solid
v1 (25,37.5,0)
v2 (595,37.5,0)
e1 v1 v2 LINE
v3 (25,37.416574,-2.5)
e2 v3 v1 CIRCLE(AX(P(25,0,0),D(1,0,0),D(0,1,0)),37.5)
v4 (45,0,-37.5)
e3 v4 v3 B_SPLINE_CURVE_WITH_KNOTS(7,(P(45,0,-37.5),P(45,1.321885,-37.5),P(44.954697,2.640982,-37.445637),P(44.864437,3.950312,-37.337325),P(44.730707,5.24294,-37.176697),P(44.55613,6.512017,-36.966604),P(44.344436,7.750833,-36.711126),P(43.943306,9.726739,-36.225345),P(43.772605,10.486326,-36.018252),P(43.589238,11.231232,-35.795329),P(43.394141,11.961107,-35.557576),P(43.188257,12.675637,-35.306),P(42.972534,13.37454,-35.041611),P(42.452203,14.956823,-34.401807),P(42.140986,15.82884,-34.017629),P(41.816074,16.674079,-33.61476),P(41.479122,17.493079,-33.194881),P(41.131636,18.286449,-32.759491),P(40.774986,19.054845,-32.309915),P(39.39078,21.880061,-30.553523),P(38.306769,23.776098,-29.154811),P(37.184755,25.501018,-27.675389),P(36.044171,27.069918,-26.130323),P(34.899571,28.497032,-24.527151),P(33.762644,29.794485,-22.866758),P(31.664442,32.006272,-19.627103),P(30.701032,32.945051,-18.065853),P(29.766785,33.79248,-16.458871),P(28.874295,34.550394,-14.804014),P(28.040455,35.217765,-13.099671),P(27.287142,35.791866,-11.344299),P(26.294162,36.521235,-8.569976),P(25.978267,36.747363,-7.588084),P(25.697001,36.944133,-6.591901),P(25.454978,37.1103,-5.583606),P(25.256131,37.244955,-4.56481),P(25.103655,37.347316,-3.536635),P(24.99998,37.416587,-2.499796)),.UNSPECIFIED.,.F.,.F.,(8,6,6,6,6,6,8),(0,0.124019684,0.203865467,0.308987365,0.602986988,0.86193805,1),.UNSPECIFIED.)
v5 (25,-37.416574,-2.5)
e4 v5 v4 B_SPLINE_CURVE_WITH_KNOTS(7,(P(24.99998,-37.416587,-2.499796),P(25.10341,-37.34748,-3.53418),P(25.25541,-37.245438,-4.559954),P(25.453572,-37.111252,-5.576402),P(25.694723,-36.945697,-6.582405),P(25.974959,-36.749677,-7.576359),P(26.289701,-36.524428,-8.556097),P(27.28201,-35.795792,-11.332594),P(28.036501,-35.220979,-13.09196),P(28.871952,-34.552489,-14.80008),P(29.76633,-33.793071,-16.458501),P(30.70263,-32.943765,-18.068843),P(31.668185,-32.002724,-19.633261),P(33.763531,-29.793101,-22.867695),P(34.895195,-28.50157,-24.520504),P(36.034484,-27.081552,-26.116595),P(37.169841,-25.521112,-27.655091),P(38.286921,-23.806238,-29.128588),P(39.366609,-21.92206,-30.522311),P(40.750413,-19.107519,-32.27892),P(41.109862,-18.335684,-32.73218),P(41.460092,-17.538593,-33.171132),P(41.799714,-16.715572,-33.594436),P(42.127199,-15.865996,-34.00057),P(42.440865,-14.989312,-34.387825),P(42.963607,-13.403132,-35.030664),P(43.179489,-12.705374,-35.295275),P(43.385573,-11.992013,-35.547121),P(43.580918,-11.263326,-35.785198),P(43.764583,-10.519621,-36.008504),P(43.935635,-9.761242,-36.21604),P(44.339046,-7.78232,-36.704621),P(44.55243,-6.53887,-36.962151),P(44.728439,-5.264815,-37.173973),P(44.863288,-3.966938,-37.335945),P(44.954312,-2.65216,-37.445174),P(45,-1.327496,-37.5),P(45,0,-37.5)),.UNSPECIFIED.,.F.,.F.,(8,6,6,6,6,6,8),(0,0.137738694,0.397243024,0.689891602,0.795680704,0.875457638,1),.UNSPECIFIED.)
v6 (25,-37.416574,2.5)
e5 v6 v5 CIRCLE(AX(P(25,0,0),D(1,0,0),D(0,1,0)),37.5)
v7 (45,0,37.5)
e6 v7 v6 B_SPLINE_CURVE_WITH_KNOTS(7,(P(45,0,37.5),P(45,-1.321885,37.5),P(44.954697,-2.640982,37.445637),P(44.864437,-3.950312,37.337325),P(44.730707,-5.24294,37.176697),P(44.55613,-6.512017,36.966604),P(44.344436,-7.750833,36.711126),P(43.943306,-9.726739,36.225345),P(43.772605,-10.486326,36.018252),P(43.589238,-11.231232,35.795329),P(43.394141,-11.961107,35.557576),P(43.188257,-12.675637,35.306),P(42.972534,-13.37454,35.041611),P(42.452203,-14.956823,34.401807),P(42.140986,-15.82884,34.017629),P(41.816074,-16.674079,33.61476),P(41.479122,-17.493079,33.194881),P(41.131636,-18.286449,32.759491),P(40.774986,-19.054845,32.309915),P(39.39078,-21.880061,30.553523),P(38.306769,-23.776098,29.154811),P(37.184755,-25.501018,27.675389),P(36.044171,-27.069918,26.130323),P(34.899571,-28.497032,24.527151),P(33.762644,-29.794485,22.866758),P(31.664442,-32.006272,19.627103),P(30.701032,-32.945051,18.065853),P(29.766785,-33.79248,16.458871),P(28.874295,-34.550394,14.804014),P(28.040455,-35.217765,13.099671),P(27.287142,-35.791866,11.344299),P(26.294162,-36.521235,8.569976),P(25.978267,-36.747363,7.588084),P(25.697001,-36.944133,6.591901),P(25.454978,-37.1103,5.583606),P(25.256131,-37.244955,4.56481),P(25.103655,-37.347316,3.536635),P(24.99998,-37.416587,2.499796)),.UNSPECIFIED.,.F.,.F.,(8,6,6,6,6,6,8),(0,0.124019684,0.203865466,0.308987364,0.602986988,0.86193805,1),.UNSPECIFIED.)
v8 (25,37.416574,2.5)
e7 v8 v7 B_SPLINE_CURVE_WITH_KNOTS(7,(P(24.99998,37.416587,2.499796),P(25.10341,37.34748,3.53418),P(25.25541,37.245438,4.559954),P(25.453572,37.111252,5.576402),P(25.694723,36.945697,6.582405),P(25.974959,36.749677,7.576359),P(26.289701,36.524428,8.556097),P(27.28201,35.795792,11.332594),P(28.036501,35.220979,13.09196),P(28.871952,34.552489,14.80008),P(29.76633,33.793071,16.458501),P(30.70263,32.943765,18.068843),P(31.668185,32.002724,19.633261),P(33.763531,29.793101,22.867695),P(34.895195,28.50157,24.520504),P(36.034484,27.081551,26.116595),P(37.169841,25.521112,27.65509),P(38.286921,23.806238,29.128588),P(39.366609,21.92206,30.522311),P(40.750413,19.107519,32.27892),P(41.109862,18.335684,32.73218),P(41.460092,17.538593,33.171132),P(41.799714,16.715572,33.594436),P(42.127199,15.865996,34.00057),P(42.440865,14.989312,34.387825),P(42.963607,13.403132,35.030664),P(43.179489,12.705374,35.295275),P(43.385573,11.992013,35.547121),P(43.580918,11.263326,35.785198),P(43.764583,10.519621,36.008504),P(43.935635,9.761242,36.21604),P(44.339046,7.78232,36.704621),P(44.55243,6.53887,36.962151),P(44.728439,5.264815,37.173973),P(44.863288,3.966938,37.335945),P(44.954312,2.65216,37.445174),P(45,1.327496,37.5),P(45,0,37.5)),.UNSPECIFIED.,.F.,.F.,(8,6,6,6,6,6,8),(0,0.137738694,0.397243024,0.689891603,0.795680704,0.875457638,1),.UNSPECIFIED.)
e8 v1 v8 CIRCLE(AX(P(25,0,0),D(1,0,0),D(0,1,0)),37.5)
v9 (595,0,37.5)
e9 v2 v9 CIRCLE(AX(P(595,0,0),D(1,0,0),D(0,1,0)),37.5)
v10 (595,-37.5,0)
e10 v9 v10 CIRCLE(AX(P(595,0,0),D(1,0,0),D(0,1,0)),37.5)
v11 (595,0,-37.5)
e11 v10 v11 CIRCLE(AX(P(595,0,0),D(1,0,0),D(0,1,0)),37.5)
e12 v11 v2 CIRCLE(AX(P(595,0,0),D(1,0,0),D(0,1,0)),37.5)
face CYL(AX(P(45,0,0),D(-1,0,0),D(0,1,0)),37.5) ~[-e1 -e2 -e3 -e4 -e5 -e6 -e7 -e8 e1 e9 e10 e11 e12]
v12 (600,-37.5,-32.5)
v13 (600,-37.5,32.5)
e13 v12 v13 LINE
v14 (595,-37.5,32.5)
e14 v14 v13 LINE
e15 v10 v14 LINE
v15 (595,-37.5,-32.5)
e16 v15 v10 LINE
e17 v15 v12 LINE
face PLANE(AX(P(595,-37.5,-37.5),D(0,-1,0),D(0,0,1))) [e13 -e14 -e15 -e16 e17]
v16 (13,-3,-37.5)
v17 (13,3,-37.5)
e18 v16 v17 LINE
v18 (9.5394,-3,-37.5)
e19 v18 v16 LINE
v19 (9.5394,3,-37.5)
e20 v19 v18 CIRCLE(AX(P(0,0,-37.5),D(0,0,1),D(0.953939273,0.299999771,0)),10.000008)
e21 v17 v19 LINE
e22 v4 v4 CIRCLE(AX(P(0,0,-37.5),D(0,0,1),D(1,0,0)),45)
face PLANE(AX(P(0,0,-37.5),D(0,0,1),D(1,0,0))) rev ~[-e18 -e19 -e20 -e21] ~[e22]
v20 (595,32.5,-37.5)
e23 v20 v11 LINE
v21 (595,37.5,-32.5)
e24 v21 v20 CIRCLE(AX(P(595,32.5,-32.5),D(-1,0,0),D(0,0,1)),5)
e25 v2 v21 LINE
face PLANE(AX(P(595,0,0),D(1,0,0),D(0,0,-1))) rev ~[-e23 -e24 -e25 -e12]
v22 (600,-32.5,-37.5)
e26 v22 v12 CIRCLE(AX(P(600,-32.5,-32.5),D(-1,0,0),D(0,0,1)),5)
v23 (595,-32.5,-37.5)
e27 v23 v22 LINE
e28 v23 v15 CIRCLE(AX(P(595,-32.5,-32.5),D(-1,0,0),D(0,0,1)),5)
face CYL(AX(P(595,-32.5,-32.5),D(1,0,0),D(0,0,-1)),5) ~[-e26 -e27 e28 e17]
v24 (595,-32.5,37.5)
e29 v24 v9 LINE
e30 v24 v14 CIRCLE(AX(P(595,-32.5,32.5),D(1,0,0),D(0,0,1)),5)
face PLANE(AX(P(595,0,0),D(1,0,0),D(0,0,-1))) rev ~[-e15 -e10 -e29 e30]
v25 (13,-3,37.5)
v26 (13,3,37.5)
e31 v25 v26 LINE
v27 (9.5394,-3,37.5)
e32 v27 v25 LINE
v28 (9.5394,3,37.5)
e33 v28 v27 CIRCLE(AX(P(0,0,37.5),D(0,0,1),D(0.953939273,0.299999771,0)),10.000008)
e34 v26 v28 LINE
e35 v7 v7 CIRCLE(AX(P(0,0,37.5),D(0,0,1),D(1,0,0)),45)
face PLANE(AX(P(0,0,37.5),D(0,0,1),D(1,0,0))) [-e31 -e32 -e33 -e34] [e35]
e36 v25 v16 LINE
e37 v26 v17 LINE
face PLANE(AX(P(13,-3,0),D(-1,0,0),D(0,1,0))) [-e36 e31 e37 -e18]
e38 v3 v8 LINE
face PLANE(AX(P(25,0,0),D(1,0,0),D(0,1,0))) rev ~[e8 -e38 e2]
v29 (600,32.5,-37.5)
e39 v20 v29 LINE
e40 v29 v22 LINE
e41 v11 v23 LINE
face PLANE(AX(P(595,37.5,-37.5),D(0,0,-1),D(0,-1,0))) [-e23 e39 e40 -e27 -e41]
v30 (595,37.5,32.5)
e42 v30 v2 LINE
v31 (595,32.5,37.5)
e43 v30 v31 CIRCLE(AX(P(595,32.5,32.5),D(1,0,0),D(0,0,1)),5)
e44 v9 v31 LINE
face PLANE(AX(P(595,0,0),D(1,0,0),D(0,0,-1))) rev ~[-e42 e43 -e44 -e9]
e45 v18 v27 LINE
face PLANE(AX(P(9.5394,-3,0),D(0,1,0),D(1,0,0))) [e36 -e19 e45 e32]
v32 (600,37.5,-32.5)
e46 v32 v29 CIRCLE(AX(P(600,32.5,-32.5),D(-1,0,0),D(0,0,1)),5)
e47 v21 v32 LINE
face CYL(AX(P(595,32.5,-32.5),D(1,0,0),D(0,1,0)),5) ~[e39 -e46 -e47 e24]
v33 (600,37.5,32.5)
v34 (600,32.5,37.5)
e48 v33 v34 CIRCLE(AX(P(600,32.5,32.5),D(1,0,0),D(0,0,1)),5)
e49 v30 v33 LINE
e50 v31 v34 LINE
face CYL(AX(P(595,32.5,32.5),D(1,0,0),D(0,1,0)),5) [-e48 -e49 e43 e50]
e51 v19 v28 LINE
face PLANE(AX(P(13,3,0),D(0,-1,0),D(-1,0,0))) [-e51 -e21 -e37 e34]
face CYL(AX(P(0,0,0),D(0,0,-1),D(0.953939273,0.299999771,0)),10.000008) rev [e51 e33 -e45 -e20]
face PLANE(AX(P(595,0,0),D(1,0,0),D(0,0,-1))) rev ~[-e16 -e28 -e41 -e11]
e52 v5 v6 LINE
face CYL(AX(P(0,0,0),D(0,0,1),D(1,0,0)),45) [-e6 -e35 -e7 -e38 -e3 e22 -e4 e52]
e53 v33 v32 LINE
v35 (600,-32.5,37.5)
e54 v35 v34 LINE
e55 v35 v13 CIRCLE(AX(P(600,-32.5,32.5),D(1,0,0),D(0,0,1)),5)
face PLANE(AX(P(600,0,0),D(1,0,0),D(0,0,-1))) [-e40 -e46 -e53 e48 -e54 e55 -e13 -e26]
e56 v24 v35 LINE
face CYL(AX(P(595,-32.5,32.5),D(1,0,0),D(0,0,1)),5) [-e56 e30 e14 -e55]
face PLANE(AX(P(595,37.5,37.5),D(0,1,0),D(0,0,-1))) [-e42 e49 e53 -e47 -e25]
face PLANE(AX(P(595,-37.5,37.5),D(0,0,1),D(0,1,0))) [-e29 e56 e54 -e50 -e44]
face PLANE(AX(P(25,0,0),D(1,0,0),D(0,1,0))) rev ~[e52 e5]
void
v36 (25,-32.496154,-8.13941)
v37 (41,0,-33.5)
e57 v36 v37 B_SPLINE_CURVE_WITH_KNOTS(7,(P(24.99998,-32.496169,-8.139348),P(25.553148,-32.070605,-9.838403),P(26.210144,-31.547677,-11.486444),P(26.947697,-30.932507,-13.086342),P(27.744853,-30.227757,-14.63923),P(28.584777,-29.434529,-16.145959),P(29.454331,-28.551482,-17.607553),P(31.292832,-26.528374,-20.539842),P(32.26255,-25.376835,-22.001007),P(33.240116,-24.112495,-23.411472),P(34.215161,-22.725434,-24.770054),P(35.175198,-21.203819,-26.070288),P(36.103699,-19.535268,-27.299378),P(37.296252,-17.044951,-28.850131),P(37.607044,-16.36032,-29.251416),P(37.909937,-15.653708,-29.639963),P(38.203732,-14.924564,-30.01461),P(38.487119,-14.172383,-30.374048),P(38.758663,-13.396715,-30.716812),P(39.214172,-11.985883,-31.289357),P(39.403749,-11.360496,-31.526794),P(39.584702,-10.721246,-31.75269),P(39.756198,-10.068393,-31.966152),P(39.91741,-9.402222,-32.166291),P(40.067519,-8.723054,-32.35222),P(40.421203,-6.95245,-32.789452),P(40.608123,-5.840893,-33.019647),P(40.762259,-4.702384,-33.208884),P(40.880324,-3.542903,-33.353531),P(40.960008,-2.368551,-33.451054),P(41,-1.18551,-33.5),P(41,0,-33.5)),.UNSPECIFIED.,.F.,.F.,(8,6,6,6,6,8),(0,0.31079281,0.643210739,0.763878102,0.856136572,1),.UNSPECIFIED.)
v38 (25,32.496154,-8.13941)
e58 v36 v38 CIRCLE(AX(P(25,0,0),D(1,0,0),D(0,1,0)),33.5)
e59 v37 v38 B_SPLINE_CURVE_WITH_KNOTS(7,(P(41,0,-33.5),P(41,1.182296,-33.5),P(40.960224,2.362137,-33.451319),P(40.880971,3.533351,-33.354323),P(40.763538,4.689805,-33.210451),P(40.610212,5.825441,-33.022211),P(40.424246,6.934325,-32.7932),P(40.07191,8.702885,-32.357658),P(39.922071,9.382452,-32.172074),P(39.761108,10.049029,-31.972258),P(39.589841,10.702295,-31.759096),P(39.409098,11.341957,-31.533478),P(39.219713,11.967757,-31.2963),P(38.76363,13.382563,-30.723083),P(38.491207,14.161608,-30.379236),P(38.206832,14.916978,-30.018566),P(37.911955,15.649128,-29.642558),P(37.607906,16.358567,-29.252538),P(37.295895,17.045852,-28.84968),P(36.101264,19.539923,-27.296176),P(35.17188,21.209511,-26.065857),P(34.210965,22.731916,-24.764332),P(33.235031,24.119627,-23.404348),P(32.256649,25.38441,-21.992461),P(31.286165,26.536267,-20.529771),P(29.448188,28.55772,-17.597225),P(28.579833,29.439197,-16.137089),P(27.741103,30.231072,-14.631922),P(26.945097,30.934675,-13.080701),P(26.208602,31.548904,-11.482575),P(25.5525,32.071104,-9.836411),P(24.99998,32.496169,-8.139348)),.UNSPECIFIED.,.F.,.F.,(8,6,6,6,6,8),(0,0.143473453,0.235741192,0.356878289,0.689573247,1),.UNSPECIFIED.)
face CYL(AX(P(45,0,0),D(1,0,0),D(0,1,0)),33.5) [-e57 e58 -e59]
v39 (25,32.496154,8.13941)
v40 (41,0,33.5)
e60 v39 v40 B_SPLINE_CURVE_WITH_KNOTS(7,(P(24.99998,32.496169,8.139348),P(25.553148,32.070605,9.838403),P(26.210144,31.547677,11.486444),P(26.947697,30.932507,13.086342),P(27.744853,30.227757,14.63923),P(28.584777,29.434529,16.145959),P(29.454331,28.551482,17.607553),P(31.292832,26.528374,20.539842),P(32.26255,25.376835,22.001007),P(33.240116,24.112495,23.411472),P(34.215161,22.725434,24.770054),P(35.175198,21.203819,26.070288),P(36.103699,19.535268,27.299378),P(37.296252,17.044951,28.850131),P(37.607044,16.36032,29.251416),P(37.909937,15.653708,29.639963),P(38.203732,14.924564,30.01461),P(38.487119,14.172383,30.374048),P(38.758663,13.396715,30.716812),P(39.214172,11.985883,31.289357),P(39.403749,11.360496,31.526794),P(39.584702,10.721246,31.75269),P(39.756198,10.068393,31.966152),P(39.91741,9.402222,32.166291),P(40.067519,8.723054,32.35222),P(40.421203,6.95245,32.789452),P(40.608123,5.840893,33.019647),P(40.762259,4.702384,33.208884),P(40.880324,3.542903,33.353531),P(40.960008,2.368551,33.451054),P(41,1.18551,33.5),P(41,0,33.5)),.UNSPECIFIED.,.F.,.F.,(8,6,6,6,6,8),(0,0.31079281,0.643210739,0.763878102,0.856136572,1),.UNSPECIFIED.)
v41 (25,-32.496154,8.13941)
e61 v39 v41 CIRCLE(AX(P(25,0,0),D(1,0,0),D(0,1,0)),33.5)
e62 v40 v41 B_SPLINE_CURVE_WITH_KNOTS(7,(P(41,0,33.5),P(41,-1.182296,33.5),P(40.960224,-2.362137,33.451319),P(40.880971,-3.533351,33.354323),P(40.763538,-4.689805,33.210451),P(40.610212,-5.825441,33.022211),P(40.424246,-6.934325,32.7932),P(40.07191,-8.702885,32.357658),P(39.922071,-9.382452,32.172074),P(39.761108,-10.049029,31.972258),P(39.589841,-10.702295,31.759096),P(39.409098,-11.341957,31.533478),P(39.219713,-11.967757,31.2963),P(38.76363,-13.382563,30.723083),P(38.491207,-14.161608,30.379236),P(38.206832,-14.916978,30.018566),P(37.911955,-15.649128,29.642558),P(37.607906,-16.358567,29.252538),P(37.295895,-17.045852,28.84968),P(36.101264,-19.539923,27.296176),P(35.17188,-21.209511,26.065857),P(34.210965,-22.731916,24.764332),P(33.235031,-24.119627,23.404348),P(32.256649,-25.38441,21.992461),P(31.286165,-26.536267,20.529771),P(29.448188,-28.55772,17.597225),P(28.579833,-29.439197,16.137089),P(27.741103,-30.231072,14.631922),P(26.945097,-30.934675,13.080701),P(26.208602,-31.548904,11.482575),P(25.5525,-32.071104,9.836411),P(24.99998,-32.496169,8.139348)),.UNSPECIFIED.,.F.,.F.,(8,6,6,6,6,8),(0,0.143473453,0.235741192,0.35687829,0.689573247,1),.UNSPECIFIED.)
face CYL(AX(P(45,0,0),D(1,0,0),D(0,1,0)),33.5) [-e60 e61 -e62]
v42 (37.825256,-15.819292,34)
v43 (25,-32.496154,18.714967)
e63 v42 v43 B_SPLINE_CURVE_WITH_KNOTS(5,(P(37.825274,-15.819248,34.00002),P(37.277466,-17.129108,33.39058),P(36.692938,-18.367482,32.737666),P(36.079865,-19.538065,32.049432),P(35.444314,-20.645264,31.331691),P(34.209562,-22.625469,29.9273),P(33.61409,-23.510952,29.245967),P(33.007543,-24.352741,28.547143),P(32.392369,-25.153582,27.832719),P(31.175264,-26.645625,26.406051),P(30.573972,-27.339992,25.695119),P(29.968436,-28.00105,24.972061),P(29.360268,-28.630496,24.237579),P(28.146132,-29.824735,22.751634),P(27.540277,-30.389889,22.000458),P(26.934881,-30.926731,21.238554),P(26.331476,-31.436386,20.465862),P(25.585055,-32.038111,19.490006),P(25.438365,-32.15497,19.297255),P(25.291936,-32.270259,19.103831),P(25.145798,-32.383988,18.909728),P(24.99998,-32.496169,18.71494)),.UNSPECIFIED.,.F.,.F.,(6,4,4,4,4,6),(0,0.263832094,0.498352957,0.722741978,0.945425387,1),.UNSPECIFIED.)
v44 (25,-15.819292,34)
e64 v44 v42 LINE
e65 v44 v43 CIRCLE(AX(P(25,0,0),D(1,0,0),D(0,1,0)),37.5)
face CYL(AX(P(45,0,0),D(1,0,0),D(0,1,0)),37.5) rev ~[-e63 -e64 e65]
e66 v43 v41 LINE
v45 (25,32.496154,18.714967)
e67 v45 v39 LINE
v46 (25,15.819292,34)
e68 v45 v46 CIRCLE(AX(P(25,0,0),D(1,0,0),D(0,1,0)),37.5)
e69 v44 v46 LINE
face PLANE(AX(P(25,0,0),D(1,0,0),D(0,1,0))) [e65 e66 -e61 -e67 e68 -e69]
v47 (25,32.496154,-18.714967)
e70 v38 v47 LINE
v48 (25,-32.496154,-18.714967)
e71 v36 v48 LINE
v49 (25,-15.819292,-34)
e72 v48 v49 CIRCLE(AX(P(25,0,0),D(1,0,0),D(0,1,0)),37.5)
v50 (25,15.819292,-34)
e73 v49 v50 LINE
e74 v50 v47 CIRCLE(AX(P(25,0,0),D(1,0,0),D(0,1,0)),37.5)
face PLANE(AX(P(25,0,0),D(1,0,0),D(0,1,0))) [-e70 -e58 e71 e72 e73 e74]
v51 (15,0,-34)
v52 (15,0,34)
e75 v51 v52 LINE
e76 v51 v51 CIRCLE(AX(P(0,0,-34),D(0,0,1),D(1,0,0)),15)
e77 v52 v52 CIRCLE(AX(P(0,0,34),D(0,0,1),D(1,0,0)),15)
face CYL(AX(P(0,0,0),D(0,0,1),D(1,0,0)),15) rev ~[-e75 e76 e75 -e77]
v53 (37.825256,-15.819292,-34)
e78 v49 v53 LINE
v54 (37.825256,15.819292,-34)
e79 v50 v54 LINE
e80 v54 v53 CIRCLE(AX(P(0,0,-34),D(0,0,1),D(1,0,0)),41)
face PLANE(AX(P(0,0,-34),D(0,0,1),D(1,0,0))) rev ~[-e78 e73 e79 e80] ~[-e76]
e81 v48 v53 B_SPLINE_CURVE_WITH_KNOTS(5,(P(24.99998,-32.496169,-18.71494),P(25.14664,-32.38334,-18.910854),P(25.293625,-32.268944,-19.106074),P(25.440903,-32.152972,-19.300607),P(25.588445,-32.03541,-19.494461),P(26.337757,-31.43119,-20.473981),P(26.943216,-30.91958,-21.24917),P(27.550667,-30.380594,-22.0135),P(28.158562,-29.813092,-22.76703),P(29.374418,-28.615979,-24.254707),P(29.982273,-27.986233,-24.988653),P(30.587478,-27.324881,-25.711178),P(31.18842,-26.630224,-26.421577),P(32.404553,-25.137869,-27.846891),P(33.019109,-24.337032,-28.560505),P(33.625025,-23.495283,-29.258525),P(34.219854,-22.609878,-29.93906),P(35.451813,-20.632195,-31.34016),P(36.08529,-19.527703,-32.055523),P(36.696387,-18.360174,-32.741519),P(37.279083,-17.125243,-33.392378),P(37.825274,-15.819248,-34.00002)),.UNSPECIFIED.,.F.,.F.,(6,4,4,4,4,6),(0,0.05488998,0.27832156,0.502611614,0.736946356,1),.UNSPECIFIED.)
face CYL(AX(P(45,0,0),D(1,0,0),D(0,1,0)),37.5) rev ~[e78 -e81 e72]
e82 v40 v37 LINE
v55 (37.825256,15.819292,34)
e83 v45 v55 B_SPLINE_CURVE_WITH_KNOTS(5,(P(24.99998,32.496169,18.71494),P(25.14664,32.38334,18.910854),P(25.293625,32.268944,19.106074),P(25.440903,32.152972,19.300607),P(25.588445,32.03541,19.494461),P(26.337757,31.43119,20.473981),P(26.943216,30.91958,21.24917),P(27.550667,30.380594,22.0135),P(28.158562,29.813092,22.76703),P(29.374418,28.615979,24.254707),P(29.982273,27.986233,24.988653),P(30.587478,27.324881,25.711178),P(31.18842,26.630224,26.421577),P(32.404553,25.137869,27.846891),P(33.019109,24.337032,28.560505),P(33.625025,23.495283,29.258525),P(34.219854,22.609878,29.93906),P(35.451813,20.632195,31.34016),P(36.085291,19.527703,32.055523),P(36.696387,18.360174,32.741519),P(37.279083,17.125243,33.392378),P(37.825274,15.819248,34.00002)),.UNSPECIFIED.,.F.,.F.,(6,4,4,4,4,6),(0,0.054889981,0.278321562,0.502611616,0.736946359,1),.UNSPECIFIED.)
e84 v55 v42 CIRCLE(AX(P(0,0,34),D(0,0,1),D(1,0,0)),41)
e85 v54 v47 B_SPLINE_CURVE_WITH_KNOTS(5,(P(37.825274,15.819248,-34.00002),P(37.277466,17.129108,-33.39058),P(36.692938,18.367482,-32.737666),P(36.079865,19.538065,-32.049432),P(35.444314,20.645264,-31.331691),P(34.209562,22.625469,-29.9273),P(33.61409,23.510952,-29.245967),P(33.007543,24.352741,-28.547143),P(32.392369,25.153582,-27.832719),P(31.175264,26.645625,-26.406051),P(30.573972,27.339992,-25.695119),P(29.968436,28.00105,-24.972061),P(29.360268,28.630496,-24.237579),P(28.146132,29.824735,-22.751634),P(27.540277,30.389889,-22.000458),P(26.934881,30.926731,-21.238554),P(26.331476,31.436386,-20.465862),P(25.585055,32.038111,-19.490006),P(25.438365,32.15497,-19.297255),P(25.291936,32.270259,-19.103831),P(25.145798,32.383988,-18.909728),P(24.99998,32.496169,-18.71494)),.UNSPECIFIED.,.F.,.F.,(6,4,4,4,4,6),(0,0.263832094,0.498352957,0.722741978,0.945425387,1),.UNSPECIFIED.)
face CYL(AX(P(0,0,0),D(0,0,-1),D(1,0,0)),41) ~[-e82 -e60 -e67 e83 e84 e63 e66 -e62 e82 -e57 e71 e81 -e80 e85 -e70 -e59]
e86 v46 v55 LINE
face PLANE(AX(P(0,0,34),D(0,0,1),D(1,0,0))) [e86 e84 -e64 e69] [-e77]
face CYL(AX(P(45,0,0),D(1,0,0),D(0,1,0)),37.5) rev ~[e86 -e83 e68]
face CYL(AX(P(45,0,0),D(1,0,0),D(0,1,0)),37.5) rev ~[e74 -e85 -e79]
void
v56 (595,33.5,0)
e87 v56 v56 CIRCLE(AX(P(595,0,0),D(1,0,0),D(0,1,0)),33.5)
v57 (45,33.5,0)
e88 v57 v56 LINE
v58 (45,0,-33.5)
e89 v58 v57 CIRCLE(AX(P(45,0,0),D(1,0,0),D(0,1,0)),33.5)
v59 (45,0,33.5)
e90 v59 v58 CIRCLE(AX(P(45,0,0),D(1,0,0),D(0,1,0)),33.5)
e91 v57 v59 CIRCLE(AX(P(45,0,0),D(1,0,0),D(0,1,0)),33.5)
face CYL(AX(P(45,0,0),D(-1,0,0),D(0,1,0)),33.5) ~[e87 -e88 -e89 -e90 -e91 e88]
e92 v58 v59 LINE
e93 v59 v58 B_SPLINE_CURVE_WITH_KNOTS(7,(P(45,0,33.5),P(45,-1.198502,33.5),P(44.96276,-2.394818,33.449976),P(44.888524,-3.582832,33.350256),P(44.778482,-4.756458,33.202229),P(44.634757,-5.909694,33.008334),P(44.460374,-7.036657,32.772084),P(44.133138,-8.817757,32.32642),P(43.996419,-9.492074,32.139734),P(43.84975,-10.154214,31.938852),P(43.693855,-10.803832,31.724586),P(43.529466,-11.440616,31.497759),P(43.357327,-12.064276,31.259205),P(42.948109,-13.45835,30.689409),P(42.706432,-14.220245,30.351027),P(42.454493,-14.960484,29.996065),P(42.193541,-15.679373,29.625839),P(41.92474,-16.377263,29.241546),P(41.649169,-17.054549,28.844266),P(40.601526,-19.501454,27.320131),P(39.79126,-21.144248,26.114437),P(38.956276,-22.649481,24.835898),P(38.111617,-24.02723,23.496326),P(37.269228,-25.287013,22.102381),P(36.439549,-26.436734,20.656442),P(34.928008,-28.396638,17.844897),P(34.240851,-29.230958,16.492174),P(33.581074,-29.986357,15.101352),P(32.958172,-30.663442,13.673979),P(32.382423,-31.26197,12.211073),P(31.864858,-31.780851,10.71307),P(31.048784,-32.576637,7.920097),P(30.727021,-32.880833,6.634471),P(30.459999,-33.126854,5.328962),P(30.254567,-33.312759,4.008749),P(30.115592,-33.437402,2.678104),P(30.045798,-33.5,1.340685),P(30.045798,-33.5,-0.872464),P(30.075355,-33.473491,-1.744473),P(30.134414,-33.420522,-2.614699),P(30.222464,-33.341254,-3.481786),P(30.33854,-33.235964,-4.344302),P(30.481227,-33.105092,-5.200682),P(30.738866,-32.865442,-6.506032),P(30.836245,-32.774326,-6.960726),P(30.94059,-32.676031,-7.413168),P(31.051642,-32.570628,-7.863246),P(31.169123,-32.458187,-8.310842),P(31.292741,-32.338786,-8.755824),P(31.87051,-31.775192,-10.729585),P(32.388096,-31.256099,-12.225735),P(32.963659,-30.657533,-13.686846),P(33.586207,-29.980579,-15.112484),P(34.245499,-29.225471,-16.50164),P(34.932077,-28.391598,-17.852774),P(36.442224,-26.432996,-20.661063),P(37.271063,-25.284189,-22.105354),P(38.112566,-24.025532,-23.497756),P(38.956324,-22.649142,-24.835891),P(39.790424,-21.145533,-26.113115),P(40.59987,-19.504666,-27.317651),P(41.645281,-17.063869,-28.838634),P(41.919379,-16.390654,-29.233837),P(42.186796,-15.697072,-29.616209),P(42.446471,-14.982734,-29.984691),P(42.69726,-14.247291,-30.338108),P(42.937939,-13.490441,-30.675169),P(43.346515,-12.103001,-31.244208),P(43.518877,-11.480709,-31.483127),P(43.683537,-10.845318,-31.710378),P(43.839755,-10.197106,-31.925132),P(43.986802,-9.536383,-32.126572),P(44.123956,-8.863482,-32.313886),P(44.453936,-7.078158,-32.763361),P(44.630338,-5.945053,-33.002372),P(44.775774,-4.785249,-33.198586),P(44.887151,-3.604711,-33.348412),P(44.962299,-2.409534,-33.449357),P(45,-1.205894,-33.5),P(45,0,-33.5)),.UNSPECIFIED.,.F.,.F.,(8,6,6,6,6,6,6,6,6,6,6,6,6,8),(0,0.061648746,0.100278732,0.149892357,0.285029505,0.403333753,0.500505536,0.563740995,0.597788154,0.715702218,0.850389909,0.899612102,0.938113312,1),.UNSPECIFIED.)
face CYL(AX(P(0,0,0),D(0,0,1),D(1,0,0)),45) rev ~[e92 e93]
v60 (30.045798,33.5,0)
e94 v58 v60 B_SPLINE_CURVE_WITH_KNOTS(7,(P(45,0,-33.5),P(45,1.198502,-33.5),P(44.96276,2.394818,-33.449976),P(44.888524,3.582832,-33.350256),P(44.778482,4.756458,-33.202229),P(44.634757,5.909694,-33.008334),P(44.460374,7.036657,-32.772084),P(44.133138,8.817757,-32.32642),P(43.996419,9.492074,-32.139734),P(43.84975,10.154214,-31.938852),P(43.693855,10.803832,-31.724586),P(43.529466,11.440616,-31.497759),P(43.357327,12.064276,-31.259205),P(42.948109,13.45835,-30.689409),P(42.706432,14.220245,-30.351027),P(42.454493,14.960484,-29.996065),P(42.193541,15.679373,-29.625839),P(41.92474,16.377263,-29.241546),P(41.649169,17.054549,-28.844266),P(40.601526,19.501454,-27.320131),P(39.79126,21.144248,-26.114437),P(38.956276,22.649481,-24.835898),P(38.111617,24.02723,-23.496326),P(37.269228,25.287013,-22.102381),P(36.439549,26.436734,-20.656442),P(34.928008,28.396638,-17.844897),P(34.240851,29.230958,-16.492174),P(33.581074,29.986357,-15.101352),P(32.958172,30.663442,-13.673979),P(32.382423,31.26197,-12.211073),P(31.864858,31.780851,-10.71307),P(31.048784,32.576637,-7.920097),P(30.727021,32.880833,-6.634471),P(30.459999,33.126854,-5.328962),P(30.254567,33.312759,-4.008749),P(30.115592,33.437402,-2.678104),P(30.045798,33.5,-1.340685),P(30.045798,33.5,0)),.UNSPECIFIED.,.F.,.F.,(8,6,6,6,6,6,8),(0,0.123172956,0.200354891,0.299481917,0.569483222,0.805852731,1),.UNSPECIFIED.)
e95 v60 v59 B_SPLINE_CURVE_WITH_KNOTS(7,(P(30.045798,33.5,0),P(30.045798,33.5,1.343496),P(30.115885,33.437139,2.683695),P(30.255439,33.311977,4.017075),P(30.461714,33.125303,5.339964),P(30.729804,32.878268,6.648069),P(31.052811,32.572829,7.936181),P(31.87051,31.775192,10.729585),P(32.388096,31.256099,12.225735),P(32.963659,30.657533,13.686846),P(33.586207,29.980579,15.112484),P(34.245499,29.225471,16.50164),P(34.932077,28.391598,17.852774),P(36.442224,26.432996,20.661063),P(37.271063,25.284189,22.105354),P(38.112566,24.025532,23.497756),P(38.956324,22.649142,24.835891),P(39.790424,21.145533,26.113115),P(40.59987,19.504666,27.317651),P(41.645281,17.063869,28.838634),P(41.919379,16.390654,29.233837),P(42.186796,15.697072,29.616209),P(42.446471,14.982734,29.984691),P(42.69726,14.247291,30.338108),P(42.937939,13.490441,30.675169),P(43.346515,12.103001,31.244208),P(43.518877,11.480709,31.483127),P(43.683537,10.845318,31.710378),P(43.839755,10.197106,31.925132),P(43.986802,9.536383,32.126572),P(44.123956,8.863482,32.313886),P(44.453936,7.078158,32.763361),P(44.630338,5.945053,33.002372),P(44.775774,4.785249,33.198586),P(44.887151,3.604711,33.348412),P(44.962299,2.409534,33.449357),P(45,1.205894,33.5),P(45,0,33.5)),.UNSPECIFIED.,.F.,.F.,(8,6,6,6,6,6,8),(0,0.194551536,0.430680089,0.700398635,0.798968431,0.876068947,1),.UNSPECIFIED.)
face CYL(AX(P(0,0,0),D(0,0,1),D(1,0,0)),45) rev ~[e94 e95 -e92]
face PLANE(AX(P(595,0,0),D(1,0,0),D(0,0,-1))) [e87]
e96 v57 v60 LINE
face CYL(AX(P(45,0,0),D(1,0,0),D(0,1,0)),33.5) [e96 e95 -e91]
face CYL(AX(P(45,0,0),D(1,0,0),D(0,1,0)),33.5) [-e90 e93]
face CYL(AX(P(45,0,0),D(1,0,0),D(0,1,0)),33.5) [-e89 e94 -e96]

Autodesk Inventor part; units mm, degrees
ref_plane "XZ Plane" through (0, 0, 0) normal (0, 1, 0) x (-1, 0, 0)
ref_plane "XY Plane" through (0, 0, 0) normal (0, 0, 1) x (1, 0, 0)
sketch "Szkic3" plane through (0, 0, 0) normal (0, 0, 1) x (1, 0, 0)
  circle A0 centre (0, 0) radius 45
  circle A1 centre (0, 0) radius 41
  circle A2 centre (0, 0) radius 15
  arc A3 (9.5394, 3) -> (9.5394, -3) centre (0, 0) ccw
  line L0 (13, 3) -> (9.5394, 3)
  line L1 (9.5394, -3) -> (13, -3)
  line L2 (13, -3) -> (13, 3)
  line L3 (13, 3) -> (10, 0) construction
  line L4 (10, 0) -> (13, -3) construction
  dimension "d0" = 90
  dimension "d1" = 82
  dimension "d3" = 30
  dimension "d19" = 20
extrude "Wyciągnięcie proste1" add sketch "Szkic3" along normal mid plane 75 contours A0 | A1 | A2 | L0 L2 L1 A3
extrude "Wyciągnięcie proste2" cut sketch "Szkic3" along normal mid plane 68 contours A1
ref_plane "Płaszczyzna konstrukcyjna1" through (45, 0, 0) normal (1, 0, 0) x (0, 1, 0)
sketch "Szkic4" plane through (45, 0, 0) normal (1, 0, 0) x (0, 1, 0)
  circle A0 centre (0, 0) radius 37.5
  circle A1 centre (0, 0) radius 33.5
  dimension "d10" = 67
extrude "Wyciągnięcie proste3" add sketch "Szkic4" along normal blind 550 and the other way blind 20
sketch "Szkic5" plane through (595, 0, 0) normal (1, 0, 0) x (0, 0, -1)
  line L0 (-37.5, 37.5) -> (37.5, 37.5)
  line L1 (37.5, 37.5) -> (37.5, -37.5)
  line L2 (37.5, -37.5) -> (-37.5, -37.5)
  line L3 (-37.5, -37.5) -> (-37.5, 37.5)
  line L4 (-37.5, 37.5) -> (37.5, -37.5) construction
  line L5 (37.5, 37.5) -> (-37.5, -37.5) construction
  point P0 (0, 0)
  point P1 (37.5, 0)
  dimension "d15" = 75
extrude "Wyciągnięcie proste4" add sketch "Szkic5" along normal blind 5
fillet "Zaokrąglenie1" radius 5 4 edges at (597.5, 37.5, 37.5) (597.5, 37.5, -37.5) (597.5, -37.5, 37.5) (597.5, -37.5, -37.5)
extrude "Wyciągnięcie proste5" cut sketch "Szkic3" along normal mid plane 75 contours L0 L2 L1 A3
properties part number "czlon 3" material "CFRP — polimer wzmocniony włóknem szklanym"
